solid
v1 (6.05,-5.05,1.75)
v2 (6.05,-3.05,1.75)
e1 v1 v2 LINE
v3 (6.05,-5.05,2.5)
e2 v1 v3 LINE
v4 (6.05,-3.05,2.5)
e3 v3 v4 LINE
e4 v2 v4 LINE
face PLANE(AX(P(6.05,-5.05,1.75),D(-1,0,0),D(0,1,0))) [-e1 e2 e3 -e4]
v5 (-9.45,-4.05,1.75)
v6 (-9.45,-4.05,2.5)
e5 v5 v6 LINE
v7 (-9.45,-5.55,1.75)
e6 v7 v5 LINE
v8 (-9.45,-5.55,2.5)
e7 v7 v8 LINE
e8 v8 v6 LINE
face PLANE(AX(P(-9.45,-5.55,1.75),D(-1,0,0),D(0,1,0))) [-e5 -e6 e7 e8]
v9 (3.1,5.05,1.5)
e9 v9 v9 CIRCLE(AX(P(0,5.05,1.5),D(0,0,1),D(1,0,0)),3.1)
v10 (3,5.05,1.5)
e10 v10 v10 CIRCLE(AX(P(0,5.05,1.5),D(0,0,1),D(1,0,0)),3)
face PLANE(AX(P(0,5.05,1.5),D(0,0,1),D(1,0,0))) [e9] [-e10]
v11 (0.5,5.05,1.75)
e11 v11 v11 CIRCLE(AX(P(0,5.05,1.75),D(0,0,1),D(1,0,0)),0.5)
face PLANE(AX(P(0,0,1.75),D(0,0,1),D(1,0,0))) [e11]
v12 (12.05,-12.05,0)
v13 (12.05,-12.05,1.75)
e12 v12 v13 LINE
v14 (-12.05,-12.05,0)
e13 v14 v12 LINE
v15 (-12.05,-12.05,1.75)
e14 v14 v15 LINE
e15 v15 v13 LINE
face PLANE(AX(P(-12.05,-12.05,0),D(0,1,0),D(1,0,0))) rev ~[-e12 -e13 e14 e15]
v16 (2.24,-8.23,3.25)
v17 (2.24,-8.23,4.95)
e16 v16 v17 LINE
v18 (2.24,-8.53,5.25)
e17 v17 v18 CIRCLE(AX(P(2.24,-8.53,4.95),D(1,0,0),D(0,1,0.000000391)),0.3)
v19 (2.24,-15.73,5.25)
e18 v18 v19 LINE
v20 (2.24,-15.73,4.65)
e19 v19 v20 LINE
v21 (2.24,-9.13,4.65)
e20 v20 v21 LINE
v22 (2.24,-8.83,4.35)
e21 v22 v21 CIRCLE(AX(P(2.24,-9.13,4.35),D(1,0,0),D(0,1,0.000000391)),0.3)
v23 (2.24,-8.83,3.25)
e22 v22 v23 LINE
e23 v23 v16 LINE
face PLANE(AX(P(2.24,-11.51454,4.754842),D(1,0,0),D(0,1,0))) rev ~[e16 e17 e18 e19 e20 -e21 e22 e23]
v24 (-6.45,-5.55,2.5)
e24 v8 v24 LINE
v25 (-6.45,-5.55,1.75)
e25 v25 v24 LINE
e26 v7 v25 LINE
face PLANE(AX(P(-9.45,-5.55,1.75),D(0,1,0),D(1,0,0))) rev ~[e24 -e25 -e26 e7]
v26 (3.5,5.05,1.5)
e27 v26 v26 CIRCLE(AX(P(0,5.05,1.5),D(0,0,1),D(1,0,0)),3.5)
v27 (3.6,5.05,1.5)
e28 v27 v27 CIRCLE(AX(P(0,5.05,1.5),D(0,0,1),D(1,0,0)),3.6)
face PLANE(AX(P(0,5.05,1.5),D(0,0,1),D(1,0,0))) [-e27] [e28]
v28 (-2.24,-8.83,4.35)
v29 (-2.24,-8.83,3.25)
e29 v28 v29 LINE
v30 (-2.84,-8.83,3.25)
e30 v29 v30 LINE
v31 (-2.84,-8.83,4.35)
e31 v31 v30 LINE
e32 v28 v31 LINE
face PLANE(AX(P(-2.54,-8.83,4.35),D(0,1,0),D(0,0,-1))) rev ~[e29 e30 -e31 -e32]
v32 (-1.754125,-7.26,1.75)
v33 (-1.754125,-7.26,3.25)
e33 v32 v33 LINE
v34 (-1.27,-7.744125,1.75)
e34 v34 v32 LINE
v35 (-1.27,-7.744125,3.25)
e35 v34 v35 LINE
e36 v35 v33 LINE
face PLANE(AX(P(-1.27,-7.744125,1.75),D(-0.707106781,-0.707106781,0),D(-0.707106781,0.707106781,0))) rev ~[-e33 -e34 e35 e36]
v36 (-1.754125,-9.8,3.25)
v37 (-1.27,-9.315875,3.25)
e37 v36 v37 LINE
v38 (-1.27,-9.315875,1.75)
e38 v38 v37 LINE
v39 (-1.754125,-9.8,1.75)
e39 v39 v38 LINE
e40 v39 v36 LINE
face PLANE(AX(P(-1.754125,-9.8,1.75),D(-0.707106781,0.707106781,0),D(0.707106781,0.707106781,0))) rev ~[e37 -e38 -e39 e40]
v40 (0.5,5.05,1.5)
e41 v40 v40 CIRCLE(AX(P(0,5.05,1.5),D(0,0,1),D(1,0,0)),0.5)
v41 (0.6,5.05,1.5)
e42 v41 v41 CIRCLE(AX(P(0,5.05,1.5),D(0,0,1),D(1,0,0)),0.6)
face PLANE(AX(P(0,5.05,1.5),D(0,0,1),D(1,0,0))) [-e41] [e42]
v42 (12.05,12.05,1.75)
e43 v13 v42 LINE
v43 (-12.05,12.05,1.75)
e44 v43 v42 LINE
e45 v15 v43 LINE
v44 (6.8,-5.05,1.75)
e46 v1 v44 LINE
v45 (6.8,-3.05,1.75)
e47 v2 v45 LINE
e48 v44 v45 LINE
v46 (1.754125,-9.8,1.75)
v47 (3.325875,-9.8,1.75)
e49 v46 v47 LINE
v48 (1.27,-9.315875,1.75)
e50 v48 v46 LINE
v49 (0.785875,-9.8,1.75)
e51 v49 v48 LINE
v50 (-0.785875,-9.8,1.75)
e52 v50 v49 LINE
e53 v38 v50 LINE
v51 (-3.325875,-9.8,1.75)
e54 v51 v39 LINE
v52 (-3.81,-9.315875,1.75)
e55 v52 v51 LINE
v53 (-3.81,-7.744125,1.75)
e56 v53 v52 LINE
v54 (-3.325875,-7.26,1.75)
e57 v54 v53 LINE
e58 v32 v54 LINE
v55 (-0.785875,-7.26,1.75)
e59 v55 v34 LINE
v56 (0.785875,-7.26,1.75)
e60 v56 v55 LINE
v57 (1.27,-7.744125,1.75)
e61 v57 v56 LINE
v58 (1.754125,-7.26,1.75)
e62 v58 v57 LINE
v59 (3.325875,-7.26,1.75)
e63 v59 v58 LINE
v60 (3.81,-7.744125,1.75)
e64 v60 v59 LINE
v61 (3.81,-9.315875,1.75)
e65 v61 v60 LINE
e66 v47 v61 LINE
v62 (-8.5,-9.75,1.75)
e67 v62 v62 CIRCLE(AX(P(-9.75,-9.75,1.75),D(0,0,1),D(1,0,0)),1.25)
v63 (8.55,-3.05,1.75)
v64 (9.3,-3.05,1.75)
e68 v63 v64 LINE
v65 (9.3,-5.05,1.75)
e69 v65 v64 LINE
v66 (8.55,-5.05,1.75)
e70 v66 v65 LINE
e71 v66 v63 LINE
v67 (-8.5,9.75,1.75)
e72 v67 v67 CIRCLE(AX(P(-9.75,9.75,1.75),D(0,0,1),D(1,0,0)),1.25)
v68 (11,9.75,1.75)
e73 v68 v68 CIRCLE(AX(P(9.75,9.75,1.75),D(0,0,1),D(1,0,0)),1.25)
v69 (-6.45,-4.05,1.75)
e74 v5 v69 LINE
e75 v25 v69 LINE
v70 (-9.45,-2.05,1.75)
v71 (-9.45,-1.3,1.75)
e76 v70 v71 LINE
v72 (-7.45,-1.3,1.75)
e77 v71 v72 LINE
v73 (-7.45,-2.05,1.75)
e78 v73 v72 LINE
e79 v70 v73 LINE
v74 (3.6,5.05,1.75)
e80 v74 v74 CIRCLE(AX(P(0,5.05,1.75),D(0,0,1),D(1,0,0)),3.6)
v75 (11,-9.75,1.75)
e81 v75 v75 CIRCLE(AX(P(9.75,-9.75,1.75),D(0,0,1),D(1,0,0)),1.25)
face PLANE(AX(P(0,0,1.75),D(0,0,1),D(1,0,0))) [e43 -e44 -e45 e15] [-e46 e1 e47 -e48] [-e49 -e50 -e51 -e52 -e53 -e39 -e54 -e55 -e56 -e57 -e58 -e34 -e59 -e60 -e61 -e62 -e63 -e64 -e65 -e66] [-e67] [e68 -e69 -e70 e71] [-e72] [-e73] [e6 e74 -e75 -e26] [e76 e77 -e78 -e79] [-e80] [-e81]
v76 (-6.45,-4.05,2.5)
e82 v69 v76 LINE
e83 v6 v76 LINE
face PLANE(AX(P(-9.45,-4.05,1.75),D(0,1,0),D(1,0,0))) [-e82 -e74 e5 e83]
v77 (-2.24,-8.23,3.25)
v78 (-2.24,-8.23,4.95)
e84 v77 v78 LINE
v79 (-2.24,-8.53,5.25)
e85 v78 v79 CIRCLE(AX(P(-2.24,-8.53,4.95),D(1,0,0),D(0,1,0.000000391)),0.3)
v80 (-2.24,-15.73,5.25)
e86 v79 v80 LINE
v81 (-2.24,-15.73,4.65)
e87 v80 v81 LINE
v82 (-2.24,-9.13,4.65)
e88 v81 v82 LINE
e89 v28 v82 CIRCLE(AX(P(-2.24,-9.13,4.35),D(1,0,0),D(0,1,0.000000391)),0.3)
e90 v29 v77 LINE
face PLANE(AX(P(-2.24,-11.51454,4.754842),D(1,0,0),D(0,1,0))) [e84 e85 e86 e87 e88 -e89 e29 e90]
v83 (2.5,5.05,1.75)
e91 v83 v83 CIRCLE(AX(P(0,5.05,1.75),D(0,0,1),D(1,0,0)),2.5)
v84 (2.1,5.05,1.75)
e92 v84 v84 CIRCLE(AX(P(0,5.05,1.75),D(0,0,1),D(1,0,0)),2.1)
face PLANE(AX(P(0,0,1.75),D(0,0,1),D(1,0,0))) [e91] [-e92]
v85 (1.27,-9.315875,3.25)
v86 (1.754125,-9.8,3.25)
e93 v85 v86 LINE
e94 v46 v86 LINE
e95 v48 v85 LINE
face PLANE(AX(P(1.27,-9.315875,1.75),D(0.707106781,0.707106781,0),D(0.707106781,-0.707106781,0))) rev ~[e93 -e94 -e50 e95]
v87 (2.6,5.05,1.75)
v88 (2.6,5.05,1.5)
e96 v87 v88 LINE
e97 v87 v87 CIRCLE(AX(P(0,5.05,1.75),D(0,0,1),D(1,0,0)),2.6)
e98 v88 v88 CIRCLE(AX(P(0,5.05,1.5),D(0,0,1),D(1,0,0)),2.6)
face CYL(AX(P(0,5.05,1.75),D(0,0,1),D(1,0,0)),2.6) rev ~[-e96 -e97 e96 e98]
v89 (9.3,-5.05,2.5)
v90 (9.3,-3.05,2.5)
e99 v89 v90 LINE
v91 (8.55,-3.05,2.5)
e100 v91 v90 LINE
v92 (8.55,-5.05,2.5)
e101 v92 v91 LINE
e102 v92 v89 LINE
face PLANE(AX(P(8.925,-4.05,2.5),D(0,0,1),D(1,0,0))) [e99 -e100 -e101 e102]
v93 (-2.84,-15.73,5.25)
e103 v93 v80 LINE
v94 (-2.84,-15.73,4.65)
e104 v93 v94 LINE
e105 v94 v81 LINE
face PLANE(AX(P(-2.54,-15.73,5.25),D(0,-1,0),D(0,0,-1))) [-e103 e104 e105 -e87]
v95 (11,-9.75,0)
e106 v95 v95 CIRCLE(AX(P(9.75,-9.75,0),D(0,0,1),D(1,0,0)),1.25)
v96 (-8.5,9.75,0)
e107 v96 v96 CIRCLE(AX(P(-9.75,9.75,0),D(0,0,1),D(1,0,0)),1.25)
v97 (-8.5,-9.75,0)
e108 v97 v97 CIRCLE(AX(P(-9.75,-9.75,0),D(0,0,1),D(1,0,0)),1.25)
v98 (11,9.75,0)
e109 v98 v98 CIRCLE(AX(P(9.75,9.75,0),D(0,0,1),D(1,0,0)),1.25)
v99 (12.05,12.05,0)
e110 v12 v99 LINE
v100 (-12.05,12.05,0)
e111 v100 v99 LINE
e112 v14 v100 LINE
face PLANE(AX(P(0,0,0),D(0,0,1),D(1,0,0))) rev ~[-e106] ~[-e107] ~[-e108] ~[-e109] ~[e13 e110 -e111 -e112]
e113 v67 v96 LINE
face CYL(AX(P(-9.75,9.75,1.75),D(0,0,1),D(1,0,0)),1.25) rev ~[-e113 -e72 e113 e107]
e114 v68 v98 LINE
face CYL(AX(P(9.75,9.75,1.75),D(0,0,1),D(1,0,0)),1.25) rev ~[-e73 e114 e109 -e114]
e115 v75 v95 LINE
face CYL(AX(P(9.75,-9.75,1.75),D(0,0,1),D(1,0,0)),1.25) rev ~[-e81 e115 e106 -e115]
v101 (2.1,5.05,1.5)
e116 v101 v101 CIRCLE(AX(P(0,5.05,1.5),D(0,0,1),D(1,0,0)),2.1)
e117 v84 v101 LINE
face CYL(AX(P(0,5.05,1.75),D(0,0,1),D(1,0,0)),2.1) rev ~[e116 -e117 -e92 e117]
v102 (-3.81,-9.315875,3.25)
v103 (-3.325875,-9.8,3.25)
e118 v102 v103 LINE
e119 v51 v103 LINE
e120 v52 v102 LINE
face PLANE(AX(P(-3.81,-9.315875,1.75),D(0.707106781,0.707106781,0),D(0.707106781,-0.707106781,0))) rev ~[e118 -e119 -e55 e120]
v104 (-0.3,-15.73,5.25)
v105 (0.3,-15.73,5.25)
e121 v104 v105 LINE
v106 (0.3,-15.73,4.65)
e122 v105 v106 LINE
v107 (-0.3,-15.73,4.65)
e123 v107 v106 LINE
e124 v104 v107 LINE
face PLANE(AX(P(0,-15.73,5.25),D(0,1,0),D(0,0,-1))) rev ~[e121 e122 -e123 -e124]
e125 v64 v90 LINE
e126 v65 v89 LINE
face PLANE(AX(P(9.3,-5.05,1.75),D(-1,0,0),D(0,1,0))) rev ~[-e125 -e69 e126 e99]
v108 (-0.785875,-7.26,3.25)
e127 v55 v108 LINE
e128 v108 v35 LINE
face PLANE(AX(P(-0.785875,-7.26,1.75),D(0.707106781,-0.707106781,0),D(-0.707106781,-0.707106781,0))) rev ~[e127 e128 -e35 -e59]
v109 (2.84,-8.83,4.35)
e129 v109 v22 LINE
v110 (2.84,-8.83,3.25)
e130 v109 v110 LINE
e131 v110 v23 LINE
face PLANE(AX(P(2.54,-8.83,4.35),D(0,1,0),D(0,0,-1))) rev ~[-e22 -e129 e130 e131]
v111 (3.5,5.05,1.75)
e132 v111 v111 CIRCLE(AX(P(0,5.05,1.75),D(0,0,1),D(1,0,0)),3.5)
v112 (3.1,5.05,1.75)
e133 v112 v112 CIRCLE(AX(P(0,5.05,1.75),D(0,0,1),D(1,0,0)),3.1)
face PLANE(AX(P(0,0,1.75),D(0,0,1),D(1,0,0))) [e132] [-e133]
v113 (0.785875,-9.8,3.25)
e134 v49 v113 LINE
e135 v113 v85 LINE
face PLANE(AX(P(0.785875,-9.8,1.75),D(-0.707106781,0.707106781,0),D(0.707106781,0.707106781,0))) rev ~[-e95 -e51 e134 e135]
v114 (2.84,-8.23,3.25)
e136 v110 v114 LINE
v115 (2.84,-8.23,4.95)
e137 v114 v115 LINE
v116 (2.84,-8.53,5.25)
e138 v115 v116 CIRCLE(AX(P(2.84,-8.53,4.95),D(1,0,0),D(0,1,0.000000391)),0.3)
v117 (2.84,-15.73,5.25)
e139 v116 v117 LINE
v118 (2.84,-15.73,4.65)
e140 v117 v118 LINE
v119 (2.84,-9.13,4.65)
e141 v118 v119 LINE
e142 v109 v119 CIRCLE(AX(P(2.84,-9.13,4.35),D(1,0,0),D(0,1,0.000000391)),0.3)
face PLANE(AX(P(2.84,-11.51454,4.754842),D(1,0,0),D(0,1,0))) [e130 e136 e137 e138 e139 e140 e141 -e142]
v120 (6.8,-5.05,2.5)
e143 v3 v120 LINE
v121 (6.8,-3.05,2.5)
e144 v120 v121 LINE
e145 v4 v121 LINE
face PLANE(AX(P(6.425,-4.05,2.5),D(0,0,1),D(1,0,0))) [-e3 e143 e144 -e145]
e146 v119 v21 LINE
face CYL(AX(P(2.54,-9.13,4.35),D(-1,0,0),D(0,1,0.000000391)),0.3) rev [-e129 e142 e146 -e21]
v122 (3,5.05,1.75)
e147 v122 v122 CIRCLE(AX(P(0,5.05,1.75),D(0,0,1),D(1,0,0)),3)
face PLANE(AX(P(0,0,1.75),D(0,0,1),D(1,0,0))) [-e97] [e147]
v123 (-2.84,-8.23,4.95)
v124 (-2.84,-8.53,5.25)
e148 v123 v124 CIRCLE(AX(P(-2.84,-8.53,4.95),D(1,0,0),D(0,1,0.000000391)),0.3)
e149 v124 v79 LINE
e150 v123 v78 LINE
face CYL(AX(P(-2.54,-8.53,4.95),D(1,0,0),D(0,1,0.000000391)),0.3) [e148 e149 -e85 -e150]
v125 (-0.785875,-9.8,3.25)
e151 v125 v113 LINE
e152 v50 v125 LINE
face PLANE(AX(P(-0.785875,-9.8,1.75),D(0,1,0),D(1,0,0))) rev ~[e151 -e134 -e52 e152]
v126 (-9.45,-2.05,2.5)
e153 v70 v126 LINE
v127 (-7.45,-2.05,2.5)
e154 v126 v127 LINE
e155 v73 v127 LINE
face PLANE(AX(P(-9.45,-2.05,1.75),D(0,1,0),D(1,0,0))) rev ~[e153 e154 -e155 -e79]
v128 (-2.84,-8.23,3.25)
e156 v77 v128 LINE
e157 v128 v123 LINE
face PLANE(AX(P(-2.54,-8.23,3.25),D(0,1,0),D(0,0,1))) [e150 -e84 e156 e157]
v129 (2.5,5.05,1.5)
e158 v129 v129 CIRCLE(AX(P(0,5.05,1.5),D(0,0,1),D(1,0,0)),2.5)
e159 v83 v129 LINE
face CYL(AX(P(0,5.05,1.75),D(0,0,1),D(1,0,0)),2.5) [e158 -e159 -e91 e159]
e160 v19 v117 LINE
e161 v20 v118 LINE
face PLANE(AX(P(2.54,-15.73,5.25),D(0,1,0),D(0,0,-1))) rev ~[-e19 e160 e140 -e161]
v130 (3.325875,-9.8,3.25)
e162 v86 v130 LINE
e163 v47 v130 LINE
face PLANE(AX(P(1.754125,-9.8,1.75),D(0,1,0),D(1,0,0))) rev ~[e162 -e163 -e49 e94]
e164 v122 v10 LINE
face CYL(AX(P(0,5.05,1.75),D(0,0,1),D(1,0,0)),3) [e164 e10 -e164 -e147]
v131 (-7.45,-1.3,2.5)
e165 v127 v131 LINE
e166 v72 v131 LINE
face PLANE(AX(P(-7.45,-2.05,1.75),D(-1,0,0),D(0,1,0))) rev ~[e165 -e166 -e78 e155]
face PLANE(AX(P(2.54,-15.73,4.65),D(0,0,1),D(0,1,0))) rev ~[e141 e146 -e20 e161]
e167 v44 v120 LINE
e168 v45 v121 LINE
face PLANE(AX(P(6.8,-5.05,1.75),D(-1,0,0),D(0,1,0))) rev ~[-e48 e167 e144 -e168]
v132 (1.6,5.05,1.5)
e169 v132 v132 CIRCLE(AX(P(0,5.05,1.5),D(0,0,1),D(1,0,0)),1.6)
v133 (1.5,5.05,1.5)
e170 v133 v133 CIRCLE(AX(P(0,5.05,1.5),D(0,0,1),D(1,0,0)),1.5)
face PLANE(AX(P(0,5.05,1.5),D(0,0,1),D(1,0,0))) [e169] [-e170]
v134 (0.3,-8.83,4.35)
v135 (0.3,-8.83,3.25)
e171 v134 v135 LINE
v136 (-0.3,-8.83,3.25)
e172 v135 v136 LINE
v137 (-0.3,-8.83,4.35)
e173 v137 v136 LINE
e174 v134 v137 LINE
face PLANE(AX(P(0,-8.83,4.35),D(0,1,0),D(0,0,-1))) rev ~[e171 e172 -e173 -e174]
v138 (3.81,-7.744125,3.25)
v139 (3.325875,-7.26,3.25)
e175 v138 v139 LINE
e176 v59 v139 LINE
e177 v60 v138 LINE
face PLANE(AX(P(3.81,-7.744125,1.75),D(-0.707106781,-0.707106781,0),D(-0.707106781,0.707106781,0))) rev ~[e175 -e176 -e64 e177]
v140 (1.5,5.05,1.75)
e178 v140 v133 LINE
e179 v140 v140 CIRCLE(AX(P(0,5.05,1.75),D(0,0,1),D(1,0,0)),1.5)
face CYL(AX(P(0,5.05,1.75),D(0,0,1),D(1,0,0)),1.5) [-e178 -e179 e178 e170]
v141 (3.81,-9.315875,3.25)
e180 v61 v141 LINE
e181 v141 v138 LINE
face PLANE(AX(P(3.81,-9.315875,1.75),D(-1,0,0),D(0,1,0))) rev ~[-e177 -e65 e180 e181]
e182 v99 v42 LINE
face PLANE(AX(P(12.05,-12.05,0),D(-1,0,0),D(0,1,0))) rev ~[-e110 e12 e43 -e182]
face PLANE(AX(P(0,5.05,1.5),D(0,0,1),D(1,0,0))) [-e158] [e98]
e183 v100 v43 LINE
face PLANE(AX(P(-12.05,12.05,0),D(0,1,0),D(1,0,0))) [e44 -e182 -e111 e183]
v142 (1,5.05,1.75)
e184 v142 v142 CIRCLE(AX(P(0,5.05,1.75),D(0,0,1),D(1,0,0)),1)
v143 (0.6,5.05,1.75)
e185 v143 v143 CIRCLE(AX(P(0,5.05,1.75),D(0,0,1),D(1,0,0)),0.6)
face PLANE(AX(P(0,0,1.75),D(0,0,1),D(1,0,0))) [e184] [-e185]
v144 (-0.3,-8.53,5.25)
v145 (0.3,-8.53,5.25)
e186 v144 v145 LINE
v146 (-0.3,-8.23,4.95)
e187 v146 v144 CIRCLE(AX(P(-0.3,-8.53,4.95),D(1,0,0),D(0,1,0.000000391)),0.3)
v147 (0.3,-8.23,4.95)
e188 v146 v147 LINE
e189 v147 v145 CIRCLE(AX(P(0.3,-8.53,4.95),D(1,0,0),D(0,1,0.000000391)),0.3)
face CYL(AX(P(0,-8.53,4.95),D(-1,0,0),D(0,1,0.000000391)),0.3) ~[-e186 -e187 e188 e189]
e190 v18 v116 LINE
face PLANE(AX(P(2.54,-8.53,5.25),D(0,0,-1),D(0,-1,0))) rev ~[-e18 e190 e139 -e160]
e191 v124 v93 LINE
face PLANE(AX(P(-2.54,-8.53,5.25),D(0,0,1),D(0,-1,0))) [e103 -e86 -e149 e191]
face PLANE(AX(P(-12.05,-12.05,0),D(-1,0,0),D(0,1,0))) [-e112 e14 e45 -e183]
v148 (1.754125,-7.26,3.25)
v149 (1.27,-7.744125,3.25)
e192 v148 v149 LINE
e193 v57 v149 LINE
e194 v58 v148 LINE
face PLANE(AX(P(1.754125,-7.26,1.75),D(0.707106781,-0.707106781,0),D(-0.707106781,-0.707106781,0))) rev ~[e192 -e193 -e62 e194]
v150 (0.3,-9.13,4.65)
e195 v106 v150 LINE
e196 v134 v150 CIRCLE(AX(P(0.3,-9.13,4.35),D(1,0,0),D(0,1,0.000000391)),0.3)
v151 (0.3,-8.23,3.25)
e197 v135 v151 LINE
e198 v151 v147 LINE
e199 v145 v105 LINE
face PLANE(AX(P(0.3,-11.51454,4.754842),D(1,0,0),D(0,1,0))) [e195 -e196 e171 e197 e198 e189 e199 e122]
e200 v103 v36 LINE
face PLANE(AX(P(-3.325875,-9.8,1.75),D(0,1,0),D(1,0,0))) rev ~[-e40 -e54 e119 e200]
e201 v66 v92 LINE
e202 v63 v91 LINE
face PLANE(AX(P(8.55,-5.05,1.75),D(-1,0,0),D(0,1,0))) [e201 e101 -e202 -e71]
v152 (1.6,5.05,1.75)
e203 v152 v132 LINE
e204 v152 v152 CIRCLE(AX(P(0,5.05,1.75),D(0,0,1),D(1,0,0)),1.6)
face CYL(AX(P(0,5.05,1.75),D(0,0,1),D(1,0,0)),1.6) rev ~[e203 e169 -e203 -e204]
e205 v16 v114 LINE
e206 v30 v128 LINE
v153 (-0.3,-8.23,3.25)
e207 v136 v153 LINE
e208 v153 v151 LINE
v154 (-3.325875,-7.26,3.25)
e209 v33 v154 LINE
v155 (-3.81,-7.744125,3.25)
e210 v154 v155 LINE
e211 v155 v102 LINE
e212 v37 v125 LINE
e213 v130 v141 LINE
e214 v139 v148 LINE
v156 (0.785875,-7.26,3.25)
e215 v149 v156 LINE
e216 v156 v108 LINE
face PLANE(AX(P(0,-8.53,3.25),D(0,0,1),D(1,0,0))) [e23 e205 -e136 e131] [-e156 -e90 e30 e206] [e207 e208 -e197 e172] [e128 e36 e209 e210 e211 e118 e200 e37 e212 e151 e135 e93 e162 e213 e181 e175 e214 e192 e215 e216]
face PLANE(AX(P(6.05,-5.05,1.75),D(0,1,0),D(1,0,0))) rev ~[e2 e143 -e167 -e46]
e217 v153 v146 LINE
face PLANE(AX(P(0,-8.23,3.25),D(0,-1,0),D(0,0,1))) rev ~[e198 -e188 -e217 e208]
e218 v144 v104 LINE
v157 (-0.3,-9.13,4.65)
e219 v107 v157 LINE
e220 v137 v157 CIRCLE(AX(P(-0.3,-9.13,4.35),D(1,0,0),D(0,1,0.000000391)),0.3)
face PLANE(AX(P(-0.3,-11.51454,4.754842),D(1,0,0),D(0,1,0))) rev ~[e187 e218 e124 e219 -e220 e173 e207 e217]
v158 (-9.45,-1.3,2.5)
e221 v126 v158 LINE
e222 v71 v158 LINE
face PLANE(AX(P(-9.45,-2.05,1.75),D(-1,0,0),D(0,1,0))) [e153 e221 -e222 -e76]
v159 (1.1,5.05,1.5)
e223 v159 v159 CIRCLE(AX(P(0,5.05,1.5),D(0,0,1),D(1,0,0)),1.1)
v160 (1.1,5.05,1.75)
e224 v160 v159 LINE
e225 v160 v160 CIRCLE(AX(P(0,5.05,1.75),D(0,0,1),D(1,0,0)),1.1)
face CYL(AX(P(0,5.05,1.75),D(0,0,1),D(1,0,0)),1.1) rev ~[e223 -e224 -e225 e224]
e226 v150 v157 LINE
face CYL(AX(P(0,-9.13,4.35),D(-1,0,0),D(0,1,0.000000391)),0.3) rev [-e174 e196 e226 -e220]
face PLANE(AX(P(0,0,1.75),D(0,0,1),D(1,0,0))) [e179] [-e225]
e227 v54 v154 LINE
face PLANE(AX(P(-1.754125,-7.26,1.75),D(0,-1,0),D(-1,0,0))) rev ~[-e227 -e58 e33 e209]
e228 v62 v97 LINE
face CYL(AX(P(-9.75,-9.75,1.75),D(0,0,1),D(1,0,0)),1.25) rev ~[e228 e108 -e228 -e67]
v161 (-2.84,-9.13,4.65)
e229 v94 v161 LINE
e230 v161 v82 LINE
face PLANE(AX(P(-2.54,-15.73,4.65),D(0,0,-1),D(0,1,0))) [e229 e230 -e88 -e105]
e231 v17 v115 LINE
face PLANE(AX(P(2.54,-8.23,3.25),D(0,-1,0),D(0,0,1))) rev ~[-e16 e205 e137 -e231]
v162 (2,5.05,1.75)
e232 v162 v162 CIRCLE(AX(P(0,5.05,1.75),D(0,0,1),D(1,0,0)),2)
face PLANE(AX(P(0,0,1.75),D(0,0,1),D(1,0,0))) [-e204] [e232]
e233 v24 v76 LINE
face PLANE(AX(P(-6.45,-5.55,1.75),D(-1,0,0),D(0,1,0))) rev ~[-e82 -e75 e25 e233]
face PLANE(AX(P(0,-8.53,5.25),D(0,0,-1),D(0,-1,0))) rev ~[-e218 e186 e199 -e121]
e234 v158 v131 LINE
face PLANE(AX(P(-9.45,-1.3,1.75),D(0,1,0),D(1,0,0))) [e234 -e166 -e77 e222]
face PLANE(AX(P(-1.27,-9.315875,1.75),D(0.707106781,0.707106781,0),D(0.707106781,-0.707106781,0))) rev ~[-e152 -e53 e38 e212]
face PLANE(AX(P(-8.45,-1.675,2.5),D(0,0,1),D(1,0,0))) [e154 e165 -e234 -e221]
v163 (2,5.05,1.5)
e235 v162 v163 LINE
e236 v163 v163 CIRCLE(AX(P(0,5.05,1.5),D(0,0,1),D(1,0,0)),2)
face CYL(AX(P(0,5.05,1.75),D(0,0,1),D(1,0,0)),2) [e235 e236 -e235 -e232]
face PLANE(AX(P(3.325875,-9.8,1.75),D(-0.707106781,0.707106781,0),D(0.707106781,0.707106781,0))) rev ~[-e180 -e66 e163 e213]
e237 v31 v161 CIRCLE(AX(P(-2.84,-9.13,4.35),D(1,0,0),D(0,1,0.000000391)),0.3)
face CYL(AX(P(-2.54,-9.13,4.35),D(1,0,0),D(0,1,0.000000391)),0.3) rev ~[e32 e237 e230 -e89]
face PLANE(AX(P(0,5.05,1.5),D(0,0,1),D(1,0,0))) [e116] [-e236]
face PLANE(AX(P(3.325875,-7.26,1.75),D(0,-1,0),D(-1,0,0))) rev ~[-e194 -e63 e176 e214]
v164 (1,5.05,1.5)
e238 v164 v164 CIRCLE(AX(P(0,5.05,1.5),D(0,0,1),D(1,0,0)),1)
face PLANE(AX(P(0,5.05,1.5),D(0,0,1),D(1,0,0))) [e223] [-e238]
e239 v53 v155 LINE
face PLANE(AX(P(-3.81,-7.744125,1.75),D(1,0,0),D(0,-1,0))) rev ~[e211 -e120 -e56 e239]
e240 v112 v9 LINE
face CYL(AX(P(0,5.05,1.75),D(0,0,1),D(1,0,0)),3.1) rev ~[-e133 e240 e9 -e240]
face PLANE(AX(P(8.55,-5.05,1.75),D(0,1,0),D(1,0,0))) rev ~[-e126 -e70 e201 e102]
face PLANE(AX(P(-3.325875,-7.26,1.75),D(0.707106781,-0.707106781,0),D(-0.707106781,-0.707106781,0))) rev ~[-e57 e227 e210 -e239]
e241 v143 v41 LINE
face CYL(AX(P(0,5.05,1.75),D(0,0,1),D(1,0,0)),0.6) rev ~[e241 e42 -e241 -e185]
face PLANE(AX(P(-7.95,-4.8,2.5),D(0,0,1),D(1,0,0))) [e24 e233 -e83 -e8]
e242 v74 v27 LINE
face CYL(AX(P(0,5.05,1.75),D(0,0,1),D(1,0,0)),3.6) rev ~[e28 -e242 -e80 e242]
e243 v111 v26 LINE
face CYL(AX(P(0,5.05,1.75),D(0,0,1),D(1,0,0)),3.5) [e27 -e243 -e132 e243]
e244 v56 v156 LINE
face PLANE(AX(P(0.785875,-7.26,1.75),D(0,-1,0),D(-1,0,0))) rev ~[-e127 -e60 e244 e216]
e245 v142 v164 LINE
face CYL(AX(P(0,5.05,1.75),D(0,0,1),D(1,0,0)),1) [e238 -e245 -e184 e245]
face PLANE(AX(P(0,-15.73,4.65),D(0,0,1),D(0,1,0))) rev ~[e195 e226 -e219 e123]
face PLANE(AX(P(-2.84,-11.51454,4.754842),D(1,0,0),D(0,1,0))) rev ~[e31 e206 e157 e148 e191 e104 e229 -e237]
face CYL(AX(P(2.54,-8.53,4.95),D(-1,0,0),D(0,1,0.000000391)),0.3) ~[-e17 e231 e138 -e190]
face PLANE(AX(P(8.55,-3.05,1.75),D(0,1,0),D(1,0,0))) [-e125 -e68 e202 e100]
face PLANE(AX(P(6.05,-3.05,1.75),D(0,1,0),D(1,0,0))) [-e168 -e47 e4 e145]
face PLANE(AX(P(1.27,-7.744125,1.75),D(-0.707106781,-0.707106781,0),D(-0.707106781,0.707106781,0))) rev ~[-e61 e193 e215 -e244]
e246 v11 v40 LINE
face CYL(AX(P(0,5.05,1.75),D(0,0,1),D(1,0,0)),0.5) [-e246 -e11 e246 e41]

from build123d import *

# Parameters (mm, degrees)
SKETCH_W            = 24.1
SKETCH_H            = 24.1
PAD_DEPTH           = 1.75
SKETCH001_R         = 1.25
POCKET_DEPTH        = 1.751
PAD001_DEPTH        = 1.5
PAD002_DEPTH        = 0.3
PAD002_DEPTH_BACK   = 0.3
LINEARPATTERN_COUNT = 3
LINEARPATTERN_PITCH = 2.54
SKETCH005_W         = 0.75
SKETCH005_H         = 2
SKETCH005_W_2       = 3
SKETCH005_H_2       = 1.5
SKETCH005_W_3       = 2
SKETCH005_H_3       = 0.75
PAD003_DEPTH        = 0.75
SKETCH006_R         = 0.6
SKETCH006_R_2       = 0.5
POCKET001_DEPTH     = 0.25
SKETCH007_R         = 1.1
SKETCH007_R_2       = 1
POCKET002_DEPTH     = 0.25
SKETCH008_R         = 1.6
SKETCH008_R_2       = 1.5
POCKET003_DEPTH     = 0.25
SKETCH009_R         = 2.1
SKETCH009_R_2       = 2
POCKET004_DEPTH     = 0.25
SKETCH010_R         = 2.6
SKETCH010_R_2       = 2.5
POCKET005_DEPTH     = 0.25
SKETCH011_R         = 3.1
SKETCH011_R_2       = 3
POCKET006_DEPTH     = 0.25
SKETCH012_R         = 3.6
SKETCH012_R_2       = 3.5
POCKET007_DEPTH     = 0.25


with BuildPart() as part:
    # Sketch → Pad (new body)
    with BuildSketch(Plane.XY):
        Rectangle(SKETCH_W, SKETCH_H)
    extrude(amount=PAD_DEPTH)

    # Sketch001 (on Face6 of Pad) → Pocket (cut, through all)
    with BuildSketch(Plane.XY.offset(1.75)):
        with Locations((-9.75, 9.75)):
            Circle(SKETCH001_R)
        with Locations((9.75, 9.75)):
            Circle(SKETCH001_R)
        with Locations((-9.75, -9.75)):
            Circle(SKETCH001_R)
        with Locations((9.75, -9.75)):
            Circle(SKETCH001_R)
    extrude(amount=-POCKET_DEPTH, mode=Mode.SUBTRACT)

    # Sketch002 (on Face5 of Pocket) → Pad001 (join)
    with BuildSketch(Plane.XY.offset(1.75)):
        Polygon((-3.81, -7.744125), (-3.81, -9.315875), (-3.325875, -9.8), (-1.754125, -9.8), (-1.27, -9.315875), (-1.27, -7.744125), (-1.754125, -7.26), (-3.325875, -7.26), align=None)
    pad001 = extrude(amount=PAD001_DEPTH)

    # Sketch004 (on DatumPlane) → Pad002 (join, two sides)
    with BuildSketch(Plane.YZ.offset(-2.54)) as pad002_sk:
        with BuildLine():
            Line((-8.83, 3.25), (-8.23, 3.25))
            Line((-8.23, 3.25), (-8.23, 4.95))
            ThreePointArc((-8.23, 4.95), (-8.317868, 5.162132), (-8.53, 5.25))
            Line((-8.53, 5.25), (-15.73, 5.25))
            Line((-15.73, 5.25), (-15.73, 4.65))
            Line((-15.73, 4.65), (-9.13, 4.65))
            ThreePointArc((-8.83, 4.35), (-8.917868, 4.562132), (-9.13, 4.65))
            Line((-8.83, 4.35), (-8.83, 3.25))
        make_face()
    pad002 = extrude(amount=PAD002_DEPTH) + extrude(pad002_sk.sketch, amount=-PAD002_DEPTH_BACK)

    # LinearPattern: Pad002, Pad001 ×3
    with Locations(*[(i * LINEARPATTERN_PITCH, 0, 0) for i in range(1, LINEARPATTERN_COUNT)]):
        add(pad002)
        add(pad001)

    # Sketch005 (on Face5 of LinearPattern) → Pad003 (join)
    with BuildSketch(Plane.XY.offset(1.75)):
        with Locations((8.925, -4.05)):
            Rectangle(SKETCH005_W, SKETCH005_H)
        with Locations((6.425, -4.05)):
            Rectangle(SKETCH005_W, SKETCH005_H)
        with Locations((-7.95, -4.8)):
            Rectangle(SKETCH005_W_2, SKETCH005_H_2)
        with Locations((-8.45, -1.675)):
            Rectangle(SKETCH005_W_3, SKETCH005_H_3)
    extrude(amount=PAD003_DEPTH)

    # Sketch006 (on Face5 of Pad003) → Pocket001 (cut)
    with BuildSketch(Plane.XY.offset(1.75)):
        with Locations((0, 5.05)):
            Circle(SKETCH006_R)
        with Locations((0, 5.05)):
            Circle(SKETCH006_R_2, mode=Mode.SUBTRACT)
    extrude(amount=-POCKET001_DEPTH, mode=Mode.SUBTRACT)

    # Sketch007 (on Face5 of Pocket001) → Pocket002 (cut)
    with BuildSketch(Plane.XY.offset(1.75)):
        with Locations((0, 5.05)):
            Circle(SKETCH007_R)
        with Locations((0, 5.05)):
            Circle(SKETCH007_R_2, mode=Mode.SUBTRACT)
    extrude(amount=-POCKET002_DEPTH, mode=Mode.SUBTRACT)

    # Sketch008 (on Face5 of Pocket002) → Pocket003 (cut)
    with BuildSketch(Plane.XY.offset(1.75)):
        with Locations((0, 5.05)):
            Circle(SKETCH008_R)
        with Locations((0, 5.05)):
            Circle(SKETCH008_R_2, mode=Mode.SUBTRACT)
    extrude(amount=-POCKET003_DEPTH, mode=Mode.SUBTRACT)

    # Sketch009 (on Face5 of Pocket003) → Pocket004 (cut)
    with BuildSketch(Plane.XY.offset(1.75)):
        with Locations((0, 5.05)):
            Circle(SKETCH009_R)
        with Locations((0, 5.05)):
            Circle(SKETCH009_R_2, mode=Mode.SUBTRACT)
    extrude(amount=-POCKET004_DEPTH, mode=Mode.SUBTRACT)

    # Sketch010 (on Face5 of Pocket004) → Pocket005 (cut)
    with BuildSketch(Plane.XY.offset(1.75)):
        with Locations((0, 5.05)):
            Circle(SKETCH010_R)
        with Locations((0, 5.05)):
            Circle(SKETCH010_R_2, mode=Mode.SUBTRACT)
    extrude(amount=-POCKET005_DEPTH, mode=Mode.SUBTRACT)

    # Sketch011 (on Face5 of Pocket005) → Pocket006 (cut)
    with BuildSketch(Plane.XY.offset(1.75)):
        with Locations((0, 5.05)):
            Circle(SKETCH011_R)
        with Locations((0, 5.05)):
            Circle(SKETCH011_R_2, mode=Mode.SUBTRACT)
    extrude(amount=-POCKET006_DEPTH, mode=Mode.SUBTRACT)

    # Sketch012 (on Face5 of Pocket006) → Pocket007 (cut)
    with BuildSketch(Plane.XY.offset(1.75)):
        with Locations((0, 5.05)):
            Circle(SKETCH012_R)
        with Locations((0, 5.05)):
            Circle(SKETCH012_R_2, mode=Mode.SUBTRACT)
    extrude(amount=-POCKET007_DEPTH, mode=Mode.SUBTRACT)


solid = part.part
